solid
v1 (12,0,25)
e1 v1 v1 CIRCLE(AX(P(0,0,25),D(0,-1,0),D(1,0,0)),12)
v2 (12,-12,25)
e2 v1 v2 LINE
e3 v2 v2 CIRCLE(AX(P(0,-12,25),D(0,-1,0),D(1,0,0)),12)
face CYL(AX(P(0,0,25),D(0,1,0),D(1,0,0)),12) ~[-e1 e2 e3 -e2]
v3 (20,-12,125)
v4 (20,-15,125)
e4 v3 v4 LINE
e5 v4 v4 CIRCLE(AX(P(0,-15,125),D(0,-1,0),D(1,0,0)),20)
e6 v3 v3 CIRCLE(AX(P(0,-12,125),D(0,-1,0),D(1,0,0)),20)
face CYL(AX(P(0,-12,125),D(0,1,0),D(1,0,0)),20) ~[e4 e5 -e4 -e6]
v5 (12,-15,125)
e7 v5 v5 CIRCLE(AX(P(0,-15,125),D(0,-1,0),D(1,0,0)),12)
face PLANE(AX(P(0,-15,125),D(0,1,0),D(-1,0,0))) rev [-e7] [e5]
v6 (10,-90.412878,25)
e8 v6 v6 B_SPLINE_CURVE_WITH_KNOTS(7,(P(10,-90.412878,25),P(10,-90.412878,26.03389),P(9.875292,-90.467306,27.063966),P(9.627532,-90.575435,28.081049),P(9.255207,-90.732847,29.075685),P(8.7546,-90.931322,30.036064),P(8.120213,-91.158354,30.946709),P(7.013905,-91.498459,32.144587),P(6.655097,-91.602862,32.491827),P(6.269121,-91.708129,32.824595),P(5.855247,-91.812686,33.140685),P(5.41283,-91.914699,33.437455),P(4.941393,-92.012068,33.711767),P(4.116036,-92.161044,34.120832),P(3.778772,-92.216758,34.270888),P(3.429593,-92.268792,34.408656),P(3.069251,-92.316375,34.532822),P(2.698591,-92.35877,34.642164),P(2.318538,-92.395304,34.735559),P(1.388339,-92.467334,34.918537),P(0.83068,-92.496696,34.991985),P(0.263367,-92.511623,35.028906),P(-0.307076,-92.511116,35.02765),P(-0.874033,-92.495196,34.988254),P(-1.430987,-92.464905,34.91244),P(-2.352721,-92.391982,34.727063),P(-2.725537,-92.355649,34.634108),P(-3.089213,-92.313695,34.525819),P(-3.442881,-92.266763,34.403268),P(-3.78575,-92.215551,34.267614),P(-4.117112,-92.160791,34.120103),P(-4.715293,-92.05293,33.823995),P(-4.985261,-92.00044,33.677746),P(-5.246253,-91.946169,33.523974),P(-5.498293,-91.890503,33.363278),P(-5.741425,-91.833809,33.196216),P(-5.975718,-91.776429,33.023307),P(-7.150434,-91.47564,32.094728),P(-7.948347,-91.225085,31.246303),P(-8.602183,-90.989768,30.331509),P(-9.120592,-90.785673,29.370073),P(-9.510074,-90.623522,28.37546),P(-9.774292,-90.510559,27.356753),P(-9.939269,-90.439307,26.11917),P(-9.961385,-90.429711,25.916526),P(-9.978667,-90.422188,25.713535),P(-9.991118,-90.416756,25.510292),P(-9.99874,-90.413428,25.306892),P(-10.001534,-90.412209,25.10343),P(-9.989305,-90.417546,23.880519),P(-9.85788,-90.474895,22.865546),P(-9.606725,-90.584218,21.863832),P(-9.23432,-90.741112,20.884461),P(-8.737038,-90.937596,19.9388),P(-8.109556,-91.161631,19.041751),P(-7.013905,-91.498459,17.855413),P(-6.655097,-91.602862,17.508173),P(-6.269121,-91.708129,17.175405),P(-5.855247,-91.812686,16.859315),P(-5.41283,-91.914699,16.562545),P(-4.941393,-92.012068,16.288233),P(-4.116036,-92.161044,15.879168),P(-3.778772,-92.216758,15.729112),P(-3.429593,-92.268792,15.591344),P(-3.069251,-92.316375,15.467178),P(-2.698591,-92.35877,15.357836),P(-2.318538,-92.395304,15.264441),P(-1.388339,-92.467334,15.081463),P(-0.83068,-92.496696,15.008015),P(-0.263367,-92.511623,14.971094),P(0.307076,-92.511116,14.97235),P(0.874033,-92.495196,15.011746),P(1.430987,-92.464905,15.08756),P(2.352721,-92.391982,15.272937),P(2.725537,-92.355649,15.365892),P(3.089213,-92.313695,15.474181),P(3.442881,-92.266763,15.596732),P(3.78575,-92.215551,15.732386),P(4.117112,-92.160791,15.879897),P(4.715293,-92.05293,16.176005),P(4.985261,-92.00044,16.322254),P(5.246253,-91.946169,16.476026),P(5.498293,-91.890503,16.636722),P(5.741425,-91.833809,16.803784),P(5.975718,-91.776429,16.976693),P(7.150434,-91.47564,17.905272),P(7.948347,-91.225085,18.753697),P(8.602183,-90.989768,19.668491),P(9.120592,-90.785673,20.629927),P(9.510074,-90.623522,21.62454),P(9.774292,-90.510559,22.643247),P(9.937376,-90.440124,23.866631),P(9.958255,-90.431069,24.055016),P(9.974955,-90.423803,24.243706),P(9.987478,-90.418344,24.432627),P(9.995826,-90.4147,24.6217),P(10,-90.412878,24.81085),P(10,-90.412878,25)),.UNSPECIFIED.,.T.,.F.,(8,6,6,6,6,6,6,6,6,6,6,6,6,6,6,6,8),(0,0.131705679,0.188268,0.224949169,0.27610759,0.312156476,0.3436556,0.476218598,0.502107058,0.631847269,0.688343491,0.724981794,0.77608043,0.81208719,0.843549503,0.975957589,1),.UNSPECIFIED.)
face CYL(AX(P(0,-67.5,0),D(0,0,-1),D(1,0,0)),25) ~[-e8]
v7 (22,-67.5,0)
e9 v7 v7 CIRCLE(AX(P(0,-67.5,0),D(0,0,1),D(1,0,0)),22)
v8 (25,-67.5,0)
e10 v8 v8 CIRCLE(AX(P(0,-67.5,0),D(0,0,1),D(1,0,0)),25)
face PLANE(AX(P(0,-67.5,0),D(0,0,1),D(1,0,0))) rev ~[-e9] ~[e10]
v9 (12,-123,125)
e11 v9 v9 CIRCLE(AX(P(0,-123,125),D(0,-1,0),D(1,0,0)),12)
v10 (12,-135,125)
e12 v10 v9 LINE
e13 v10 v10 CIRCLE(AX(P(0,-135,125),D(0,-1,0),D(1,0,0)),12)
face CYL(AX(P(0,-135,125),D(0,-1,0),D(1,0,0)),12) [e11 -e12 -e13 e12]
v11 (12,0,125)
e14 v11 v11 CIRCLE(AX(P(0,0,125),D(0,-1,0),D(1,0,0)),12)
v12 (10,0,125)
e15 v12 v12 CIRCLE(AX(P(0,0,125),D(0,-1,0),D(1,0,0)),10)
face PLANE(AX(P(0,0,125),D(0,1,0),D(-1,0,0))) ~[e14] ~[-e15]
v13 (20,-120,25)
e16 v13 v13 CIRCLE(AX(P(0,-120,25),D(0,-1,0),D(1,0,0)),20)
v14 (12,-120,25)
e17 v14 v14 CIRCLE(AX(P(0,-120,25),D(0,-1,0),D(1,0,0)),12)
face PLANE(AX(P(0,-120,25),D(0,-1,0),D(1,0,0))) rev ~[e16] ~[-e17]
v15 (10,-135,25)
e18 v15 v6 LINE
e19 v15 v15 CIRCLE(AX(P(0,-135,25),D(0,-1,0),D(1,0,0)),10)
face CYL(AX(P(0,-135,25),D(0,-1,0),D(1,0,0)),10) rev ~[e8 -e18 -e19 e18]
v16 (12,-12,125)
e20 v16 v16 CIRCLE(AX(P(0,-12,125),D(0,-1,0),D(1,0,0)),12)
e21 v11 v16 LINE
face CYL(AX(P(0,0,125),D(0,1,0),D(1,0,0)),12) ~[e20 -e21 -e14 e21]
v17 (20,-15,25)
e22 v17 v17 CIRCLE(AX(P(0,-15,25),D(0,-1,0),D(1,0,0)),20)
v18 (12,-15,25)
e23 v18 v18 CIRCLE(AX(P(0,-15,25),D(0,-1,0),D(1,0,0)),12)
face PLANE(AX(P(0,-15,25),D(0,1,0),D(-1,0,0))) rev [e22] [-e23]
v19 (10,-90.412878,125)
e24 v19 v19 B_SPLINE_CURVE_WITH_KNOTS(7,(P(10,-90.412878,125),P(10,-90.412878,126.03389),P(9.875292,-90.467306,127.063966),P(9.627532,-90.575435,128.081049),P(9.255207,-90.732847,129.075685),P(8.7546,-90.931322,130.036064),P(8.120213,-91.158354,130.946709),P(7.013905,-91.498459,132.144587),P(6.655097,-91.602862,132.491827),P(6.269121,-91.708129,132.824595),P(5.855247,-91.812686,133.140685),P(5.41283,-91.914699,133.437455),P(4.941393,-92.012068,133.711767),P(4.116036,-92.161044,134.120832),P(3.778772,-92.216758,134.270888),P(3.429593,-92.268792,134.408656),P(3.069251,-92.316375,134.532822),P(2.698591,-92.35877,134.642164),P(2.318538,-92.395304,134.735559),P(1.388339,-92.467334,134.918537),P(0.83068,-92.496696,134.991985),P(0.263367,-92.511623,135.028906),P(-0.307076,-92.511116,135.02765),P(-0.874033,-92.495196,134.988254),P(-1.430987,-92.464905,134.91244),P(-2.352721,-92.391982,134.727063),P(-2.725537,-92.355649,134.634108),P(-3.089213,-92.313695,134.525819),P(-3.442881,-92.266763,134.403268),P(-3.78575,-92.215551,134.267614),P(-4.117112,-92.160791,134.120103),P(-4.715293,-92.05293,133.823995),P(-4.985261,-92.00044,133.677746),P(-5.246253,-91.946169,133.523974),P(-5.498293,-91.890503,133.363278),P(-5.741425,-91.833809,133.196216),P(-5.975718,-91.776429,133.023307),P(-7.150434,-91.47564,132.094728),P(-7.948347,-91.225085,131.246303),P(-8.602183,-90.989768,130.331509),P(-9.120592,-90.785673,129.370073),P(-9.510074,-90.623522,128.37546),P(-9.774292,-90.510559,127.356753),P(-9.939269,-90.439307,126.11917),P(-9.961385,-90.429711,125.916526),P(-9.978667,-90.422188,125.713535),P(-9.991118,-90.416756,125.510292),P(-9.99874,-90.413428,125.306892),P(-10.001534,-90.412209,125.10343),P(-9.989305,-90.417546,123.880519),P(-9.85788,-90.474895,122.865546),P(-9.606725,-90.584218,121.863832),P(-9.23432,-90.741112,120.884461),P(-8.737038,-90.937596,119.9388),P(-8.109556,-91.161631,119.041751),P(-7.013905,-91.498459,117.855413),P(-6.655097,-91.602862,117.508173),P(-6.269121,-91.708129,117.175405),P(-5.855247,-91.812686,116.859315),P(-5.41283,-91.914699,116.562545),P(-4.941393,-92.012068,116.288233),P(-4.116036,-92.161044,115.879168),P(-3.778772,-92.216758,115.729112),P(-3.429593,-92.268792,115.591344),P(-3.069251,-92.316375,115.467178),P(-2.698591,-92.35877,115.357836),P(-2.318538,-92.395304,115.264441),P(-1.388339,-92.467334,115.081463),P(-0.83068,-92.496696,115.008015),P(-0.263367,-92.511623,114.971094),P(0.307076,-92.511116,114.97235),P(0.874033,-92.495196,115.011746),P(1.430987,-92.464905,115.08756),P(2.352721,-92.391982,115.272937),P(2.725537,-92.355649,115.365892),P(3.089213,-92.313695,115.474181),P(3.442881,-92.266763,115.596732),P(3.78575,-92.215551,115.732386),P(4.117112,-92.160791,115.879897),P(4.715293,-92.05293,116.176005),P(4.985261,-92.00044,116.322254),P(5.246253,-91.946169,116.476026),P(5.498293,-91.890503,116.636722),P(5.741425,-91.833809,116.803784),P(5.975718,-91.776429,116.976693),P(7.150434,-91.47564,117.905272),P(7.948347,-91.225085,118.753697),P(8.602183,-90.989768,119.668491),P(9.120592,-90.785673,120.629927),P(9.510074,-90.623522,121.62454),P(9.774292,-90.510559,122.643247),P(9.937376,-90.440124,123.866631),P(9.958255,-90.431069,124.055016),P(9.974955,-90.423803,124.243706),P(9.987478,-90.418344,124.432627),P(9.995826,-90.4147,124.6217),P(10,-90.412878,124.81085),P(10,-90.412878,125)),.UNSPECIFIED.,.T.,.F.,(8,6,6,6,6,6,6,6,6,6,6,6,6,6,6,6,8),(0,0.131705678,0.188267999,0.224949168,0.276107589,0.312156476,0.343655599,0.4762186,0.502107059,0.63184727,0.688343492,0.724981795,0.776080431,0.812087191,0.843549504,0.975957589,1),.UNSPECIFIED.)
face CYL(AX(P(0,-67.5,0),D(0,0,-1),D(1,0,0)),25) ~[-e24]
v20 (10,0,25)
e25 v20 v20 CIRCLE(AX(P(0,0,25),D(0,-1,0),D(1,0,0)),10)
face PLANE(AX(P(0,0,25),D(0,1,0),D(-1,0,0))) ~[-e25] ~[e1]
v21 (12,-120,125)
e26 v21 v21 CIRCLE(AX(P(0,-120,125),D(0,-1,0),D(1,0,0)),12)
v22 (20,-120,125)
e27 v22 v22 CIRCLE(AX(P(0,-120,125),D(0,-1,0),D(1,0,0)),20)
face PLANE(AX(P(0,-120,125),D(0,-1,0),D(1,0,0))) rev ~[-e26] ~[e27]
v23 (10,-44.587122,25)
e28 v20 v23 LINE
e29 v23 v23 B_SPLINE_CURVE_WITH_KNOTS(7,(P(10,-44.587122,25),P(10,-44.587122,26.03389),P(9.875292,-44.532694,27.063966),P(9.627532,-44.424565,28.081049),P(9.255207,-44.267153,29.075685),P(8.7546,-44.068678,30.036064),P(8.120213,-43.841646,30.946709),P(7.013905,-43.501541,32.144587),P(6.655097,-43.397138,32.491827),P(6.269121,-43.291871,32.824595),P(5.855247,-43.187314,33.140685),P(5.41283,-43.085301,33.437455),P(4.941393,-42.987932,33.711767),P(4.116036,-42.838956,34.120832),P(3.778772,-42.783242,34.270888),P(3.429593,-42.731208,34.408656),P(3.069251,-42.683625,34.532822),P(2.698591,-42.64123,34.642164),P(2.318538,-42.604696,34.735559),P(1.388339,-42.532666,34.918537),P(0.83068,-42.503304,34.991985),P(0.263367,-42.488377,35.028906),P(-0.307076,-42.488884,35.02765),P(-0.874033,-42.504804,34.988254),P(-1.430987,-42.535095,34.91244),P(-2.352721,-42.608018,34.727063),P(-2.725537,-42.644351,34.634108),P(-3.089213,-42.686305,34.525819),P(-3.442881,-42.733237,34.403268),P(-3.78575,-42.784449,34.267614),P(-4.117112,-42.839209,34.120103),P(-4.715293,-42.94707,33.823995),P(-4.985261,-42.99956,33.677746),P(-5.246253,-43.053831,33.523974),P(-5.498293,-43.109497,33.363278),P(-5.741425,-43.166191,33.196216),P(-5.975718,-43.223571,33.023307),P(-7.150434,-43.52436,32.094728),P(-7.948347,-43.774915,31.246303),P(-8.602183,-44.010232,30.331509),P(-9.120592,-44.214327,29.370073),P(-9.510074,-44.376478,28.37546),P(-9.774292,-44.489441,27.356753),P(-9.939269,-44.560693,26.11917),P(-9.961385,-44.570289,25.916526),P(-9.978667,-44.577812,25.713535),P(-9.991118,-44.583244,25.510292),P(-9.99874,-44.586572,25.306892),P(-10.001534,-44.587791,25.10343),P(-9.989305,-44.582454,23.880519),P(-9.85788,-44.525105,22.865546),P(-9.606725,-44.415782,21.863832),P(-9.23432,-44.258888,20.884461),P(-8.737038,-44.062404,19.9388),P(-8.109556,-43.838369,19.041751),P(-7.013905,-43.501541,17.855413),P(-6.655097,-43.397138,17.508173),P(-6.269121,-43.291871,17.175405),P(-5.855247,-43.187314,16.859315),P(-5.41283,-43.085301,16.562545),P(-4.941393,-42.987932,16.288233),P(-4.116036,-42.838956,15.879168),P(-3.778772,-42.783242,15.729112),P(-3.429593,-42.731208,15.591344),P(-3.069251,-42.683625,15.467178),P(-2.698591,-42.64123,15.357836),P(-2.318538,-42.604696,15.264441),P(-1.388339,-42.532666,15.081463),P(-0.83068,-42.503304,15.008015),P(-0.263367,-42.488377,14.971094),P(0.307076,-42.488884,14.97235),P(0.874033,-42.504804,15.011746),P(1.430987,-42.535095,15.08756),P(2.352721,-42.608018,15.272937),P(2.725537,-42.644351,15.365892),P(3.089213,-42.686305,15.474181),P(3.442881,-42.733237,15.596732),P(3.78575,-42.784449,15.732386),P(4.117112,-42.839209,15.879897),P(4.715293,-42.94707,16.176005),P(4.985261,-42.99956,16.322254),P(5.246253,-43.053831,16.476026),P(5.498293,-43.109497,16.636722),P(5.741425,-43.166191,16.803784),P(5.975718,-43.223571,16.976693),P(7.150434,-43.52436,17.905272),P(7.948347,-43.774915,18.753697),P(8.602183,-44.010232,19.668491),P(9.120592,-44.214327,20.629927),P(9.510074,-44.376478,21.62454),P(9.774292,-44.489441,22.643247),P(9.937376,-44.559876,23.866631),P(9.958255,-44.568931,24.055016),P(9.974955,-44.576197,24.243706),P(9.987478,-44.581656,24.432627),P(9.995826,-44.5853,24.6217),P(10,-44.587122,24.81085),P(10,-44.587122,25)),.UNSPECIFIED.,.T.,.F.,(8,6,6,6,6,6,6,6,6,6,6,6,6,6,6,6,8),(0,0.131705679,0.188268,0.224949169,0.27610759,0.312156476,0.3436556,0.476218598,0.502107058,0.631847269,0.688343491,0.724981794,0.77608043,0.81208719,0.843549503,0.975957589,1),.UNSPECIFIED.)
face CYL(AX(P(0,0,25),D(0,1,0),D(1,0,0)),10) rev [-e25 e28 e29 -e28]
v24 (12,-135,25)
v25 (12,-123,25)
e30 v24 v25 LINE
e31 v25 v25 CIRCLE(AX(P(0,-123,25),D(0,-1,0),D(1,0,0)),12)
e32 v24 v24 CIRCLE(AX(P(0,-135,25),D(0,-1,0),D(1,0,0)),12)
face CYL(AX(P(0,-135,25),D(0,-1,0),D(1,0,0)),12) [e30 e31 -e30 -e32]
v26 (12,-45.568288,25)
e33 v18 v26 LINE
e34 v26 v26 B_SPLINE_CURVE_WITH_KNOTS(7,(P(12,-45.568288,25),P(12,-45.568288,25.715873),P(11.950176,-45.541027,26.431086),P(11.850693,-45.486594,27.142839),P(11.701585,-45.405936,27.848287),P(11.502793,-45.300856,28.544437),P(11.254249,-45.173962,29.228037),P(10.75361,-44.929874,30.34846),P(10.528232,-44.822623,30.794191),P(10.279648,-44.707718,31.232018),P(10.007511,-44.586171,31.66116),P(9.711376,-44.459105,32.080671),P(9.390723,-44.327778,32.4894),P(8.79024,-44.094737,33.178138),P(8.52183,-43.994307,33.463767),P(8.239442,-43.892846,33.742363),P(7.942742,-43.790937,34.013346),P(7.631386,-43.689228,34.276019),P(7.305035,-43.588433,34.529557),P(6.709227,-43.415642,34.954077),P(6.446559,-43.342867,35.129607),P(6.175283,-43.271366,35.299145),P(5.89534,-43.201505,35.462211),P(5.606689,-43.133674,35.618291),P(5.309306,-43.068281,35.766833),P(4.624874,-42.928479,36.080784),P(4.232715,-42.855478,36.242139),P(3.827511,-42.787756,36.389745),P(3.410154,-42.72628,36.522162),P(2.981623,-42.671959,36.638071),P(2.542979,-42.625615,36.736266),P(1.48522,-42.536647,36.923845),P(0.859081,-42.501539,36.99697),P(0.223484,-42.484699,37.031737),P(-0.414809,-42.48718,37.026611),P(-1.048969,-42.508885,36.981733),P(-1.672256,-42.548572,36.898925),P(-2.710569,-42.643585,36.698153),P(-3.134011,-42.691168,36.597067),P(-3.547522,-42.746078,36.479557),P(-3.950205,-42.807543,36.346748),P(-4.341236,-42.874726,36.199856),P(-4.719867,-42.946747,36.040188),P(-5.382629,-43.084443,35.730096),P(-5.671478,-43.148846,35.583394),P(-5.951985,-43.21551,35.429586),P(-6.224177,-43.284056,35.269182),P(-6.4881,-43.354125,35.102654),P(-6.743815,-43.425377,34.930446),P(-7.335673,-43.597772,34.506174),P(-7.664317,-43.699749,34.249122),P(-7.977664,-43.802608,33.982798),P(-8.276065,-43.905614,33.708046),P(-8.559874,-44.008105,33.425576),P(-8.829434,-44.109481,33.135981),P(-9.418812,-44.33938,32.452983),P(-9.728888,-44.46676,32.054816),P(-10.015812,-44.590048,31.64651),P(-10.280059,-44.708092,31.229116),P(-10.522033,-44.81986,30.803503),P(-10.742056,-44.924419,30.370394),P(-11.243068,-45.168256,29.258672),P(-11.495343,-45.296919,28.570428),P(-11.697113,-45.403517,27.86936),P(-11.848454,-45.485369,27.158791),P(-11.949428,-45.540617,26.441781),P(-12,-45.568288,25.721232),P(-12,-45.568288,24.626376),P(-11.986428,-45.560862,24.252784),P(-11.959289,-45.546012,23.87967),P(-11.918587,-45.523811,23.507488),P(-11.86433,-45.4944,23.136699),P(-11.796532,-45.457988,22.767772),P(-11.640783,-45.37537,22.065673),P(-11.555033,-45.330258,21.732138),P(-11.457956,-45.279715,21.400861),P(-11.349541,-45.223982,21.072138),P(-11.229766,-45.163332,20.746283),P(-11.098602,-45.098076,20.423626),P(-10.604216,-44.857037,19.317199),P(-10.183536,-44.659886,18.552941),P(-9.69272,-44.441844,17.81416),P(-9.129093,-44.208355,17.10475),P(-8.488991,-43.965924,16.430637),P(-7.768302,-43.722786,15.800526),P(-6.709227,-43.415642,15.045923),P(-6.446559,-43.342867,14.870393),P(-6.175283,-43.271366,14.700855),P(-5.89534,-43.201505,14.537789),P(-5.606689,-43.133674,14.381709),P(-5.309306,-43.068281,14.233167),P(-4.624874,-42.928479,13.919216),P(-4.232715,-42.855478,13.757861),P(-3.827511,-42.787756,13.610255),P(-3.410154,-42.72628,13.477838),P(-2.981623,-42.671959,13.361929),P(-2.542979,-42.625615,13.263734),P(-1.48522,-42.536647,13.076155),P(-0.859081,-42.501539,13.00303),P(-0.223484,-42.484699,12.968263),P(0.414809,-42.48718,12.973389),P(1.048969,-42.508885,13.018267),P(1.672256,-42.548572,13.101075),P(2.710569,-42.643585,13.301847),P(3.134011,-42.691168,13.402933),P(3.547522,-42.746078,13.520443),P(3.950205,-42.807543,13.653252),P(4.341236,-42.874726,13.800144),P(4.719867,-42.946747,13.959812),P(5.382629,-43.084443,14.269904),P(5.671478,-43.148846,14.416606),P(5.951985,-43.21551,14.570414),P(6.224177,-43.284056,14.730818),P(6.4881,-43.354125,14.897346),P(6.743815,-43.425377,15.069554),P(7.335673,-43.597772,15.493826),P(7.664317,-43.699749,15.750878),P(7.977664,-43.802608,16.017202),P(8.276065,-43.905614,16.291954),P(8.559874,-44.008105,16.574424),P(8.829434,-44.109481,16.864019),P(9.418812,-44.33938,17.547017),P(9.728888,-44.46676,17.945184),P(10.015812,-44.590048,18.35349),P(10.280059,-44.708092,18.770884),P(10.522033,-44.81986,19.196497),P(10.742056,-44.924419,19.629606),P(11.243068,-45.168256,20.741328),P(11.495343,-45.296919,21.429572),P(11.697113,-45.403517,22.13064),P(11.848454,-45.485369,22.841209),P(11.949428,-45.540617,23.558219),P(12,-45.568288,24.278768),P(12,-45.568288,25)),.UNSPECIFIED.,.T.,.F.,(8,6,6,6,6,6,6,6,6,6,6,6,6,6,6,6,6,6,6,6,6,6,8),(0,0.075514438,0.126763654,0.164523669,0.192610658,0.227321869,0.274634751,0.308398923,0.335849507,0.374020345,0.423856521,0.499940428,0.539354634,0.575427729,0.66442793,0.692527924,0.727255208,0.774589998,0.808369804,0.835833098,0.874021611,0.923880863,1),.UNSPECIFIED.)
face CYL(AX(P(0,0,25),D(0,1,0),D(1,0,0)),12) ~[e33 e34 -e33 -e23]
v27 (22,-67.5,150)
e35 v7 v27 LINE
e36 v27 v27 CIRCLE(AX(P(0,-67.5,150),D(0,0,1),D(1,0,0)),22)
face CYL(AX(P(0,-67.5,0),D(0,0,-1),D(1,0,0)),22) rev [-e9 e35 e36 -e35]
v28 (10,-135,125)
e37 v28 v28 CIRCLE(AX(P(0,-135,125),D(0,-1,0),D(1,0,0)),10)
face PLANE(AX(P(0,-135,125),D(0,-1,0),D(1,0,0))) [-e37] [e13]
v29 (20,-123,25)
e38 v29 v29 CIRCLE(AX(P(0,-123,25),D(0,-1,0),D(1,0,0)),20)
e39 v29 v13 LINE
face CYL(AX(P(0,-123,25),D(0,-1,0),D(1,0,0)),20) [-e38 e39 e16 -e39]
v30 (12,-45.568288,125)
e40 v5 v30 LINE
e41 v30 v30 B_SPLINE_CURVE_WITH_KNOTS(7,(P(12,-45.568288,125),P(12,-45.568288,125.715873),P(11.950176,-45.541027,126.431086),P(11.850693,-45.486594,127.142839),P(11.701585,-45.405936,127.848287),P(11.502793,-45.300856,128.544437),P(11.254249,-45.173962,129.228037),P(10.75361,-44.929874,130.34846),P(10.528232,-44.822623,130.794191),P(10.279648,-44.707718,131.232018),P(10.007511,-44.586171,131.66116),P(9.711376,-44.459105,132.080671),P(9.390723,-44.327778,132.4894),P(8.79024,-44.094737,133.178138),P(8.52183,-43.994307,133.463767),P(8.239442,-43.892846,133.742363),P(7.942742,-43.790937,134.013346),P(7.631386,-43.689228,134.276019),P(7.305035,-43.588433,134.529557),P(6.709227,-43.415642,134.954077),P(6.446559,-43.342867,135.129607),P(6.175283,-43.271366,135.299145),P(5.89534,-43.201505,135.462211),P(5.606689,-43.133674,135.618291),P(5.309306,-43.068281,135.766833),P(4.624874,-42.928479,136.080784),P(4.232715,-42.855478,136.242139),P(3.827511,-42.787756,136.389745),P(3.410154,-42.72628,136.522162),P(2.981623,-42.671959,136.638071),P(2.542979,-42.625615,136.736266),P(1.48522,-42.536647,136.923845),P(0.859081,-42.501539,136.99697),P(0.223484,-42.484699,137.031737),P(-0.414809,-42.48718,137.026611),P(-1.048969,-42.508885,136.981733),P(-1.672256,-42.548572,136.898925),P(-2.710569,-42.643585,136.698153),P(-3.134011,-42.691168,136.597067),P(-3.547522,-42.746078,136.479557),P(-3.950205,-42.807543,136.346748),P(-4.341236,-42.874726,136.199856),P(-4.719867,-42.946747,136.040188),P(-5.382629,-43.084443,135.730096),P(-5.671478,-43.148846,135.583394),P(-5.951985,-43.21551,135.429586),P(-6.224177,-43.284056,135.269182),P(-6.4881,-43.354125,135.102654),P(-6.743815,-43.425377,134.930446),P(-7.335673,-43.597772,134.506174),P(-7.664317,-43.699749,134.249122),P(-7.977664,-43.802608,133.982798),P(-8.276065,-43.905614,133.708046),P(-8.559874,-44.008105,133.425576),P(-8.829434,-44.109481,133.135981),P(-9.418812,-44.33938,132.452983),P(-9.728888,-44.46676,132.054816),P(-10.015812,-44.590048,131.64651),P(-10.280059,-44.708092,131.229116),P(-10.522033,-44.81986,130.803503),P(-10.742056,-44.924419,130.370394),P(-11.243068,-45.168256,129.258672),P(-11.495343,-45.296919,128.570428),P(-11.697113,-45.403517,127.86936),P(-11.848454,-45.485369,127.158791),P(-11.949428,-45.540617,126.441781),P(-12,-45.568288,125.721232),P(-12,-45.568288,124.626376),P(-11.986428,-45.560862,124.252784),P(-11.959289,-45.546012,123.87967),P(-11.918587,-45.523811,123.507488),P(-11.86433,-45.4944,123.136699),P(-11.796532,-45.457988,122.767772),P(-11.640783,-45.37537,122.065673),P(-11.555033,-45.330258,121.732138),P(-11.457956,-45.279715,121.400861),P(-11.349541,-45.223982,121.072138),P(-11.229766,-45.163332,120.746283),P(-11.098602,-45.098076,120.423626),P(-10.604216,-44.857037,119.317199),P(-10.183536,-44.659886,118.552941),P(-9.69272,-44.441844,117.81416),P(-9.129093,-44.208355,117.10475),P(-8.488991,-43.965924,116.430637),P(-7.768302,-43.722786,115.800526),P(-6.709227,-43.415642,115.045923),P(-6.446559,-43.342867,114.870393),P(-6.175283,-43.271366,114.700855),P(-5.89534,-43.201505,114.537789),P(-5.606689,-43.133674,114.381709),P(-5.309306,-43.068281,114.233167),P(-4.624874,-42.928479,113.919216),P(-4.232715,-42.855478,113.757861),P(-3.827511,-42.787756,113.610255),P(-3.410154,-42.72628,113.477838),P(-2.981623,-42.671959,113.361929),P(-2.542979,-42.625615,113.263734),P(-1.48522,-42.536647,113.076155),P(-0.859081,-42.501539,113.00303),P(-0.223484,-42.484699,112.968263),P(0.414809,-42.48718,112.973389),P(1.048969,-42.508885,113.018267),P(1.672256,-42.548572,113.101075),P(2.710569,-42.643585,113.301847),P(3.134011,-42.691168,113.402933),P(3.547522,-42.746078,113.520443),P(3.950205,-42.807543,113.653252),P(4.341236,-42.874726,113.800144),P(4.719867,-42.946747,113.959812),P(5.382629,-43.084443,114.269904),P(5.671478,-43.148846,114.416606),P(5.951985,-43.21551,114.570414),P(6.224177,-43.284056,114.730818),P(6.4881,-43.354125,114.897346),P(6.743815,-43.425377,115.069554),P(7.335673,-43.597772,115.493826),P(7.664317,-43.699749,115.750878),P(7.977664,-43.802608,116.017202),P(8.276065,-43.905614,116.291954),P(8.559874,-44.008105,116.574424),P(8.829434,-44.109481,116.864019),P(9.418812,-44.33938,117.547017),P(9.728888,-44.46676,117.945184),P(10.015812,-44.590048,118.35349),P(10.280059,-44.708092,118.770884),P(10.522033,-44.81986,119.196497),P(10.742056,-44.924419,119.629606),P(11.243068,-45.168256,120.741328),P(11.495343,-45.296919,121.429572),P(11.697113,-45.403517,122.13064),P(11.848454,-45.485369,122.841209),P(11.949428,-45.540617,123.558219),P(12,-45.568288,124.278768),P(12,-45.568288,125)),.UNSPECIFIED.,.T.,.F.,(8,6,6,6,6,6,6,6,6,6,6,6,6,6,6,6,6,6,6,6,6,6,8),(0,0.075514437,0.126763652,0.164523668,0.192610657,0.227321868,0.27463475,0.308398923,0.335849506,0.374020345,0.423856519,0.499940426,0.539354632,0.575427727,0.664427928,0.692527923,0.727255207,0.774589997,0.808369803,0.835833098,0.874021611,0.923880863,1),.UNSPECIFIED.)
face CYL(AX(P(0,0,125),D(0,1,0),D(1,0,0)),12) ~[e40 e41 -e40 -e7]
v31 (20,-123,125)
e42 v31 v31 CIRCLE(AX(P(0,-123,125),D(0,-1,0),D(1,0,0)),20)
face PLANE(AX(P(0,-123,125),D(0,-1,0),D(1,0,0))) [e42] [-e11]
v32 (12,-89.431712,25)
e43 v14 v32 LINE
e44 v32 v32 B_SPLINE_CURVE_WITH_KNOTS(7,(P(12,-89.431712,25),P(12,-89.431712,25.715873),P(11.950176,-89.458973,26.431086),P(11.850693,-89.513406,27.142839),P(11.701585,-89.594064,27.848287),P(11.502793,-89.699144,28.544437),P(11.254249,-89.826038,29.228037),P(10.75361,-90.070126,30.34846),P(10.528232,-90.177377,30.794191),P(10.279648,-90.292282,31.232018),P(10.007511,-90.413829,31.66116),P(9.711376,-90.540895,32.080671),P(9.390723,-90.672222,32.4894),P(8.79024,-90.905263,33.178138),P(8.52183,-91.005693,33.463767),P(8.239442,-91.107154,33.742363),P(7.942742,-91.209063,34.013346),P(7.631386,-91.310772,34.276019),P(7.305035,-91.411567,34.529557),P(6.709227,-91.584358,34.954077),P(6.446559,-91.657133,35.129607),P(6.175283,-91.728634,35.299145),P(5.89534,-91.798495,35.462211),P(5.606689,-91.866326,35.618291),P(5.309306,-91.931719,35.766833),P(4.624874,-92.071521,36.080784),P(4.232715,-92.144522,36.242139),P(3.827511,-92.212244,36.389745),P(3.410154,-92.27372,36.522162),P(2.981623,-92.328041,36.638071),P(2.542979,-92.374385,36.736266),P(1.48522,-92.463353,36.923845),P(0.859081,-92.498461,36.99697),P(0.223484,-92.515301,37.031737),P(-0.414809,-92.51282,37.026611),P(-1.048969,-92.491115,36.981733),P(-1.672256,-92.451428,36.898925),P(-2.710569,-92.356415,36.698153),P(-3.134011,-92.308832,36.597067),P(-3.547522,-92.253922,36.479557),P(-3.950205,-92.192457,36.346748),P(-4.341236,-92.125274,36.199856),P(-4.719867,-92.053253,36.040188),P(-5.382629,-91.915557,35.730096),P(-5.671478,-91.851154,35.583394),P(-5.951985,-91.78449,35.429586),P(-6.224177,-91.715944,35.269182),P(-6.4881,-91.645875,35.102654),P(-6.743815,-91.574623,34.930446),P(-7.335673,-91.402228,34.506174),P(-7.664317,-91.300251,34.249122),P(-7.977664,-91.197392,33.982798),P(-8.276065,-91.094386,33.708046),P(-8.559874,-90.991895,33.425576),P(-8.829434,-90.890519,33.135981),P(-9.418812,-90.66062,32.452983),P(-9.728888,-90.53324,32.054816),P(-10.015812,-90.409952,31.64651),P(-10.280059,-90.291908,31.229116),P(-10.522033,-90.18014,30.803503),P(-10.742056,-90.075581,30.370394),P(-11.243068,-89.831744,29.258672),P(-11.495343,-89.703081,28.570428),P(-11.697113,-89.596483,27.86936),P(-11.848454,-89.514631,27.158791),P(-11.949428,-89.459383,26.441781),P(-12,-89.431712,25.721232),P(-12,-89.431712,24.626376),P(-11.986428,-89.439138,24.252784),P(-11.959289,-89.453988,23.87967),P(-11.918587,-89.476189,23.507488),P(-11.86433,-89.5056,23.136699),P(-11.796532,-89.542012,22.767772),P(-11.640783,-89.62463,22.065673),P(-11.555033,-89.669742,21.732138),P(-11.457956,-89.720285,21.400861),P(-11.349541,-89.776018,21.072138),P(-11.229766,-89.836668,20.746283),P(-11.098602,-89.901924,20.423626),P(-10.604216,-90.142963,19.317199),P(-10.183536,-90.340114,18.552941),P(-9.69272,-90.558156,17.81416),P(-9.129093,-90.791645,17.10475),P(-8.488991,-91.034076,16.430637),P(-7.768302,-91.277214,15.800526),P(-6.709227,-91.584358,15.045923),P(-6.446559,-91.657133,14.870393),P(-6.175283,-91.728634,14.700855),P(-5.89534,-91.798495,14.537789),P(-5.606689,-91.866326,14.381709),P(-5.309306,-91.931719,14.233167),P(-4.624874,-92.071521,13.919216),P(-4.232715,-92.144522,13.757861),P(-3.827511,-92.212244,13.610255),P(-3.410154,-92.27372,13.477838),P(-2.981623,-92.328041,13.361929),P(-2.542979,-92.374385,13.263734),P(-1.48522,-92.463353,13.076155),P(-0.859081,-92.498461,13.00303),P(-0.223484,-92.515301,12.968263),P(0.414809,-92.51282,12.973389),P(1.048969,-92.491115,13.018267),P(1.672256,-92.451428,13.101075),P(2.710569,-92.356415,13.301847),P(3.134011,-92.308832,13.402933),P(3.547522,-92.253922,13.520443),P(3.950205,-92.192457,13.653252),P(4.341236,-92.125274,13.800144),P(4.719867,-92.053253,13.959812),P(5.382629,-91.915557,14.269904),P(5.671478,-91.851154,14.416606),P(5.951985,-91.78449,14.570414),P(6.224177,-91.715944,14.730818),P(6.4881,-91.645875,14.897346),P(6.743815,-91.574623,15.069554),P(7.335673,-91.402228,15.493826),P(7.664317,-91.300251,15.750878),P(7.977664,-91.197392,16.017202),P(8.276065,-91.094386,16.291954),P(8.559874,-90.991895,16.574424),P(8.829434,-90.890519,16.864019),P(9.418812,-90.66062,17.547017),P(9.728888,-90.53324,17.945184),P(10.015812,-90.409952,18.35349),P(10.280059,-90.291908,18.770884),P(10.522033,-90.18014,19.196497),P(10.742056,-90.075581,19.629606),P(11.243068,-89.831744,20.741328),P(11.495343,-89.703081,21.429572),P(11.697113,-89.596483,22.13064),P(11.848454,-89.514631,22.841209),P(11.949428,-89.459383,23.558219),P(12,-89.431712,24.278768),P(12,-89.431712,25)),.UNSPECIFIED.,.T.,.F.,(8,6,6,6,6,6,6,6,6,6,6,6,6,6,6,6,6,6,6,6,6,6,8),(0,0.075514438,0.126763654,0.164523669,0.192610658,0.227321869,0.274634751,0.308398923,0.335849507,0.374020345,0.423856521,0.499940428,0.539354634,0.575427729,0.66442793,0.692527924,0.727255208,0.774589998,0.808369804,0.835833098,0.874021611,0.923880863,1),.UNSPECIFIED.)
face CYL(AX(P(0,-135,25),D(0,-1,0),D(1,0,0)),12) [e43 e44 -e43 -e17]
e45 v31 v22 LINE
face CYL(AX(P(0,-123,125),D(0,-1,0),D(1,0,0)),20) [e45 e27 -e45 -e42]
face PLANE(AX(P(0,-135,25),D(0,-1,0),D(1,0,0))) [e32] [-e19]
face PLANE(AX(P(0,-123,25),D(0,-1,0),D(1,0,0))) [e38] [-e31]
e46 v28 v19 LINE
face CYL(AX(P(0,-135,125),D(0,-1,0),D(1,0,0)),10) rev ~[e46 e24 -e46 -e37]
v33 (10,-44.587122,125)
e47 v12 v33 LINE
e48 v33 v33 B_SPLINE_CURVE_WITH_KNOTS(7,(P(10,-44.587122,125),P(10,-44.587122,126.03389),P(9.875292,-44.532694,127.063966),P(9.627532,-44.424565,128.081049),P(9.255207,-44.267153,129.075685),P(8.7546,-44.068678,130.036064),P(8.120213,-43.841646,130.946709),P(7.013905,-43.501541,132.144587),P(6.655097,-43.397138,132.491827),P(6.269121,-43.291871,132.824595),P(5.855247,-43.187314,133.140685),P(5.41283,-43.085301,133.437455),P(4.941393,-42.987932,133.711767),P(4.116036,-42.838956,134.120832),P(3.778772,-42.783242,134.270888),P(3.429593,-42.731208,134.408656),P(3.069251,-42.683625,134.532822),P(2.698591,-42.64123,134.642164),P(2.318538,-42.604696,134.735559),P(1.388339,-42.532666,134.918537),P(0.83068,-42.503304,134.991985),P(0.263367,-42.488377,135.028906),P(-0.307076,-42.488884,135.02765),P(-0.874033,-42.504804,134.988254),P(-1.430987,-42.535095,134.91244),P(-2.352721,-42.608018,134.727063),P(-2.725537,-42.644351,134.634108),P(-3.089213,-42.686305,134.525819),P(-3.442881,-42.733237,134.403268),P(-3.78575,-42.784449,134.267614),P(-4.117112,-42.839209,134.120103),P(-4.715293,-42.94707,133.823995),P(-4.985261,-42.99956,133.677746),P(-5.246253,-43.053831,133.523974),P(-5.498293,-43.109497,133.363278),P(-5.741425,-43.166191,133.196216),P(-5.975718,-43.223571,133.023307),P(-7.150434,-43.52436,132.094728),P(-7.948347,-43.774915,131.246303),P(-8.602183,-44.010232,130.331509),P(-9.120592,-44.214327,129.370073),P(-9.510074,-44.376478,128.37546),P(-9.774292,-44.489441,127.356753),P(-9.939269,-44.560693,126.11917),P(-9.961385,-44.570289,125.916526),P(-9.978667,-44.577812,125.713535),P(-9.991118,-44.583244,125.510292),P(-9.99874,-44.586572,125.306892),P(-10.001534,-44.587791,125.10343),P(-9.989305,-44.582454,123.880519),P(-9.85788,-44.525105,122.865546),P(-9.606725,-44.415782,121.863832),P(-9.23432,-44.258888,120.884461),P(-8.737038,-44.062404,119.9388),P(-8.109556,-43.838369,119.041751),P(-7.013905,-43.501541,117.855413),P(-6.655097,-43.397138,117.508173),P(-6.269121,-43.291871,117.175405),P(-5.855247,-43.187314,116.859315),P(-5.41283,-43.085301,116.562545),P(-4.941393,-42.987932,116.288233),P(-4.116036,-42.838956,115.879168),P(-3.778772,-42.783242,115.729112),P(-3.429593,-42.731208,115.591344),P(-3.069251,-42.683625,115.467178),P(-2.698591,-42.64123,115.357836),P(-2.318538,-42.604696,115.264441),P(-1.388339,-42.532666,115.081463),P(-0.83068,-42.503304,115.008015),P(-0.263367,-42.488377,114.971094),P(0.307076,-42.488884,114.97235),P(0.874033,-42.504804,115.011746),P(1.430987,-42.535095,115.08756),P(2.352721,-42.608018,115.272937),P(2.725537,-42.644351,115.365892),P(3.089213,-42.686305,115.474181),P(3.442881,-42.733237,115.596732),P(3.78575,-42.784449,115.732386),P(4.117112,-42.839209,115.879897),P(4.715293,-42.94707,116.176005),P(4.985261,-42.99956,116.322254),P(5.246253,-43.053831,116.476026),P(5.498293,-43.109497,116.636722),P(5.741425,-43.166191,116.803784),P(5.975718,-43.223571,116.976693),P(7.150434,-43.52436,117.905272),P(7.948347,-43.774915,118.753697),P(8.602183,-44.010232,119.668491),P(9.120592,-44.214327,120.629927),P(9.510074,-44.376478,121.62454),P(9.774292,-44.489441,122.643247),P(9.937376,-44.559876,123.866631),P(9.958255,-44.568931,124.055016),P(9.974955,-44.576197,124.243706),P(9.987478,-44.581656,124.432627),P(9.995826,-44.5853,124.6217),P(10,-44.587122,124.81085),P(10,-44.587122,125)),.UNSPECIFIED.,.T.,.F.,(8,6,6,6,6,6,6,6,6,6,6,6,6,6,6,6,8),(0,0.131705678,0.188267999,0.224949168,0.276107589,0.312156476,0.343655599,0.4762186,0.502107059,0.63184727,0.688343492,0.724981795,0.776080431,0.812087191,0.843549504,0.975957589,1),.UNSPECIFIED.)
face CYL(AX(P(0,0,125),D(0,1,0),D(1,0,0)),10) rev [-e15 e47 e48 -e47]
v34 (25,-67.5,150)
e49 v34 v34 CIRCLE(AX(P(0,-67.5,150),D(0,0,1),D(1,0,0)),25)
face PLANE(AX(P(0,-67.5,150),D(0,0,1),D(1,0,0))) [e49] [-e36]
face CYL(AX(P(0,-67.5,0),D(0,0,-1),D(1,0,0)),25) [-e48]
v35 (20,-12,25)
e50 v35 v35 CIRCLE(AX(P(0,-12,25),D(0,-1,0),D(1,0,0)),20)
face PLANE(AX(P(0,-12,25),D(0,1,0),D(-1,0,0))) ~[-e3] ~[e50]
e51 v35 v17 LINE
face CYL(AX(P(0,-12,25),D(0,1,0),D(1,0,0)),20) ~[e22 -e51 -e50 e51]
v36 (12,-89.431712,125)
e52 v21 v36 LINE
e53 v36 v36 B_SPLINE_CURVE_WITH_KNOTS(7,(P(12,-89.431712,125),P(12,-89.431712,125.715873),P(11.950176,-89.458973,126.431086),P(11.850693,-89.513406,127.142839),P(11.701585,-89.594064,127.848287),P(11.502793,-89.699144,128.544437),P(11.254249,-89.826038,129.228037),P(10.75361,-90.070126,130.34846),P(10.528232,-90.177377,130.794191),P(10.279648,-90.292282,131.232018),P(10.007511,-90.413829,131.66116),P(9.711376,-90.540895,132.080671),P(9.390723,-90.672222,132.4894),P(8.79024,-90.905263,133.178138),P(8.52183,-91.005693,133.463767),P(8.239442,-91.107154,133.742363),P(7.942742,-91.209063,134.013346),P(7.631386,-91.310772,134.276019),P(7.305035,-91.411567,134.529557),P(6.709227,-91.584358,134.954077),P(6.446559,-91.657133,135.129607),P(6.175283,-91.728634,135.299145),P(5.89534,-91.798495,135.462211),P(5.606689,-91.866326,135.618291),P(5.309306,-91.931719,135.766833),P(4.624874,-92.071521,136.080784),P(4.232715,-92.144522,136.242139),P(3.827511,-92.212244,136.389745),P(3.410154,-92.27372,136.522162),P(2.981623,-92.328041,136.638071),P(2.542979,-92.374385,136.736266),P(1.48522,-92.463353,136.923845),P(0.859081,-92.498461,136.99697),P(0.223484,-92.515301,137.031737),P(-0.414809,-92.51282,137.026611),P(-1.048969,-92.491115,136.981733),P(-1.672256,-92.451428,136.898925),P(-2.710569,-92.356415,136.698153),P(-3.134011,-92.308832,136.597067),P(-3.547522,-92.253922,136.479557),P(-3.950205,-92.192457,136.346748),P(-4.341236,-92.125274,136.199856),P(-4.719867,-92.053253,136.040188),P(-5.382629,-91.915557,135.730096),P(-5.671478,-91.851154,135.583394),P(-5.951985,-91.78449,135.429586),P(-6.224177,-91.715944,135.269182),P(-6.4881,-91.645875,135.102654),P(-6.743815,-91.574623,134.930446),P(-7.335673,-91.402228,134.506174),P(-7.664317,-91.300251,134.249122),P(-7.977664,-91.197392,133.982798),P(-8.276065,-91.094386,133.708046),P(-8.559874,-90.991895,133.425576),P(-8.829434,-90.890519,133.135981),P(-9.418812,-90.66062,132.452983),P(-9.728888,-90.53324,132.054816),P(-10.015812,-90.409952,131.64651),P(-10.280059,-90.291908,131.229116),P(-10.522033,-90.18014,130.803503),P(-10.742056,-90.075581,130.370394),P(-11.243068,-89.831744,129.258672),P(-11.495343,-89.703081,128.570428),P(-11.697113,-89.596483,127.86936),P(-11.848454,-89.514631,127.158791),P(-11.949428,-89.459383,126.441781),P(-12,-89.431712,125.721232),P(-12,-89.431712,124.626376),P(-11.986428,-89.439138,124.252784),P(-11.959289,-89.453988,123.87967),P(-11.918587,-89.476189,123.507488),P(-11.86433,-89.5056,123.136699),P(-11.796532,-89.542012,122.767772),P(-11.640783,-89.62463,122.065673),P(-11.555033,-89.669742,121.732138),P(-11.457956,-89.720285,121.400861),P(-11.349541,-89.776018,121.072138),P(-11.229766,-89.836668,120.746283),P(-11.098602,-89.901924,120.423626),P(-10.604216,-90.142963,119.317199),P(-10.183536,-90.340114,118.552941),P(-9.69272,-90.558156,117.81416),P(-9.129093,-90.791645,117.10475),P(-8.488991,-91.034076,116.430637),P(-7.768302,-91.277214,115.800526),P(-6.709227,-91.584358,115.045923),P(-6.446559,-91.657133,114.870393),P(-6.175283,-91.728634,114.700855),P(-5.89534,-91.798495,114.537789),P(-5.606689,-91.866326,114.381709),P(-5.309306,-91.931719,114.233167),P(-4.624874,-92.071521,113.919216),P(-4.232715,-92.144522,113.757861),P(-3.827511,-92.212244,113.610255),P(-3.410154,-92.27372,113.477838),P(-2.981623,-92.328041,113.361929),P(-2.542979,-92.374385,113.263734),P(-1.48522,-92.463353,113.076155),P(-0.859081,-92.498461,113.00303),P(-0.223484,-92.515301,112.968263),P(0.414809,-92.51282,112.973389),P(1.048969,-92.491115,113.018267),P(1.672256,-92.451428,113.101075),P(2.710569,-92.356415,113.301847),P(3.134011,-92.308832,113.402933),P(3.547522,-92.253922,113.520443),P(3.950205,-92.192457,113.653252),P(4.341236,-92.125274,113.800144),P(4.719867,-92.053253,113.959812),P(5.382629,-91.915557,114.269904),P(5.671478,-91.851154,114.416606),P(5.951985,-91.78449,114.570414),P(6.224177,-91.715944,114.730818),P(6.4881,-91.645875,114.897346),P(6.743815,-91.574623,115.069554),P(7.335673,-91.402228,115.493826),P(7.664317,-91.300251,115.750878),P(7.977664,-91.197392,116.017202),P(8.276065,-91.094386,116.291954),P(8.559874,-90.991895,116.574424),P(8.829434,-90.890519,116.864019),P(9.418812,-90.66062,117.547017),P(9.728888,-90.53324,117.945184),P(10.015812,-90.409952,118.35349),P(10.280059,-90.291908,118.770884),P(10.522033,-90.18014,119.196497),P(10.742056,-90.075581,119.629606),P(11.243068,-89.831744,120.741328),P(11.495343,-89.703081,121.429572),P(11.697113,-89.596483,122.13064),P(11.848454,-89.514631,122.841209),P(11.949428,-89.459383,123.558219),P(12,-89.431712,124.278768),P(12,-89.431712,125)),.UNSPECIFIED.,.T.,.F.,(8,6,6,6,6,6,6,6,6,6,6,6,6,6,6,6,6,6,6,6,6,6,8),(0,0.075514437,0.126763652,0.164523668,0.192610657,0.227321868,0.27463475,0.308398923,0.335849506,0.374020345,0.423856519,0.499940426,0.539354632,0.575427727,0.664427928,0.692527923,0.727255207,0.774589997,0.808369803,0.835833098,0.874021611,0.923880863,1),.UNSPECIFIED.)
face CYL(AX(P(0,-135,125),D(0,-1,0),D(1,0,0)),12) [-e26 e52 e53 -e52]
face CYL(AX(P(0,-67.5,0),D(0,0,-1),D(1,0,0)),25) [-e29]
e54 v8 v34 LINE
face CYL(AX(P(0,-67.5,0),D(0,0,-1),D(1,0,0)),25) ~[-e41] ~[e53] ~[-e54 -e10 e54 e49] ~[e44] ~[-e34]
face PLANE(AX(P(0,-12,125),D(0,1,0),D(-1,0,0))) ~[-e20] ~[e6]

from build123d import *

# Parameters (mm, degrees)
F4_R     = 25
F4_R_2   = 22
F6_DEPTH = 150
F5_R     = 12
F5_R_2   = 10
F8_START = -12
F5_R_3   = 20
F8_DEPTH = 3


with BuildPart() as f6:
    # F4 (on Top) → F6 (new body, through all)
    with BuildSketch(Plane.XY):
        with Locations((0, -67.5)):
            Circle(F4_R)
        with Locations((0, -67.5)):
            Circle(F4_R_2, mode=Mode.SUBTRACT)
    extrude(amount=F6_DEPTH)

    # F5 (on offset) → F7 (join, up to the next surface of F6)
    with BuildSketch(Plane.XZ.offset(135)):
        with Locations((0, 125)):
            Circle(F5_R)
        with Locations((0, 125)):
            Circle(F5_R_2, mode=Mode.SUBTRACT)
        with Locations((0, 25)):
            Circle(F5_R)
        with Locations((0, 25)):
            Circle(F5_R_2, mode=Mode.SUBTRACT)
    extrude(until=Until.NEXT, dir=(0, 1, 0))

    # F5 (on offset) → F8 (join)
    with BuildSketch(Plane.XZ.offset(135).offset(F8_START)):
        with Locations((0, 125)):
            Circle(F5_R_3)
        with Locations((0, 125)):
            Circle(F5_R, mode=Mode.SUBTRACT)
        with Locations((0, 25)):
            Circle(F5_R_3)
        with Locations((0, 25)):
            Circle(F5_R, mode=Mode.SUBTRACT)
    extrude(amount=-F8_DEPTH)

    # F9: F6 across plane


with BuildPart() as f6_1:
    add(f6.part)
    add(f6.part.mirror(Plane.XZ.offset(67.5)))


solid = f6_1.part
